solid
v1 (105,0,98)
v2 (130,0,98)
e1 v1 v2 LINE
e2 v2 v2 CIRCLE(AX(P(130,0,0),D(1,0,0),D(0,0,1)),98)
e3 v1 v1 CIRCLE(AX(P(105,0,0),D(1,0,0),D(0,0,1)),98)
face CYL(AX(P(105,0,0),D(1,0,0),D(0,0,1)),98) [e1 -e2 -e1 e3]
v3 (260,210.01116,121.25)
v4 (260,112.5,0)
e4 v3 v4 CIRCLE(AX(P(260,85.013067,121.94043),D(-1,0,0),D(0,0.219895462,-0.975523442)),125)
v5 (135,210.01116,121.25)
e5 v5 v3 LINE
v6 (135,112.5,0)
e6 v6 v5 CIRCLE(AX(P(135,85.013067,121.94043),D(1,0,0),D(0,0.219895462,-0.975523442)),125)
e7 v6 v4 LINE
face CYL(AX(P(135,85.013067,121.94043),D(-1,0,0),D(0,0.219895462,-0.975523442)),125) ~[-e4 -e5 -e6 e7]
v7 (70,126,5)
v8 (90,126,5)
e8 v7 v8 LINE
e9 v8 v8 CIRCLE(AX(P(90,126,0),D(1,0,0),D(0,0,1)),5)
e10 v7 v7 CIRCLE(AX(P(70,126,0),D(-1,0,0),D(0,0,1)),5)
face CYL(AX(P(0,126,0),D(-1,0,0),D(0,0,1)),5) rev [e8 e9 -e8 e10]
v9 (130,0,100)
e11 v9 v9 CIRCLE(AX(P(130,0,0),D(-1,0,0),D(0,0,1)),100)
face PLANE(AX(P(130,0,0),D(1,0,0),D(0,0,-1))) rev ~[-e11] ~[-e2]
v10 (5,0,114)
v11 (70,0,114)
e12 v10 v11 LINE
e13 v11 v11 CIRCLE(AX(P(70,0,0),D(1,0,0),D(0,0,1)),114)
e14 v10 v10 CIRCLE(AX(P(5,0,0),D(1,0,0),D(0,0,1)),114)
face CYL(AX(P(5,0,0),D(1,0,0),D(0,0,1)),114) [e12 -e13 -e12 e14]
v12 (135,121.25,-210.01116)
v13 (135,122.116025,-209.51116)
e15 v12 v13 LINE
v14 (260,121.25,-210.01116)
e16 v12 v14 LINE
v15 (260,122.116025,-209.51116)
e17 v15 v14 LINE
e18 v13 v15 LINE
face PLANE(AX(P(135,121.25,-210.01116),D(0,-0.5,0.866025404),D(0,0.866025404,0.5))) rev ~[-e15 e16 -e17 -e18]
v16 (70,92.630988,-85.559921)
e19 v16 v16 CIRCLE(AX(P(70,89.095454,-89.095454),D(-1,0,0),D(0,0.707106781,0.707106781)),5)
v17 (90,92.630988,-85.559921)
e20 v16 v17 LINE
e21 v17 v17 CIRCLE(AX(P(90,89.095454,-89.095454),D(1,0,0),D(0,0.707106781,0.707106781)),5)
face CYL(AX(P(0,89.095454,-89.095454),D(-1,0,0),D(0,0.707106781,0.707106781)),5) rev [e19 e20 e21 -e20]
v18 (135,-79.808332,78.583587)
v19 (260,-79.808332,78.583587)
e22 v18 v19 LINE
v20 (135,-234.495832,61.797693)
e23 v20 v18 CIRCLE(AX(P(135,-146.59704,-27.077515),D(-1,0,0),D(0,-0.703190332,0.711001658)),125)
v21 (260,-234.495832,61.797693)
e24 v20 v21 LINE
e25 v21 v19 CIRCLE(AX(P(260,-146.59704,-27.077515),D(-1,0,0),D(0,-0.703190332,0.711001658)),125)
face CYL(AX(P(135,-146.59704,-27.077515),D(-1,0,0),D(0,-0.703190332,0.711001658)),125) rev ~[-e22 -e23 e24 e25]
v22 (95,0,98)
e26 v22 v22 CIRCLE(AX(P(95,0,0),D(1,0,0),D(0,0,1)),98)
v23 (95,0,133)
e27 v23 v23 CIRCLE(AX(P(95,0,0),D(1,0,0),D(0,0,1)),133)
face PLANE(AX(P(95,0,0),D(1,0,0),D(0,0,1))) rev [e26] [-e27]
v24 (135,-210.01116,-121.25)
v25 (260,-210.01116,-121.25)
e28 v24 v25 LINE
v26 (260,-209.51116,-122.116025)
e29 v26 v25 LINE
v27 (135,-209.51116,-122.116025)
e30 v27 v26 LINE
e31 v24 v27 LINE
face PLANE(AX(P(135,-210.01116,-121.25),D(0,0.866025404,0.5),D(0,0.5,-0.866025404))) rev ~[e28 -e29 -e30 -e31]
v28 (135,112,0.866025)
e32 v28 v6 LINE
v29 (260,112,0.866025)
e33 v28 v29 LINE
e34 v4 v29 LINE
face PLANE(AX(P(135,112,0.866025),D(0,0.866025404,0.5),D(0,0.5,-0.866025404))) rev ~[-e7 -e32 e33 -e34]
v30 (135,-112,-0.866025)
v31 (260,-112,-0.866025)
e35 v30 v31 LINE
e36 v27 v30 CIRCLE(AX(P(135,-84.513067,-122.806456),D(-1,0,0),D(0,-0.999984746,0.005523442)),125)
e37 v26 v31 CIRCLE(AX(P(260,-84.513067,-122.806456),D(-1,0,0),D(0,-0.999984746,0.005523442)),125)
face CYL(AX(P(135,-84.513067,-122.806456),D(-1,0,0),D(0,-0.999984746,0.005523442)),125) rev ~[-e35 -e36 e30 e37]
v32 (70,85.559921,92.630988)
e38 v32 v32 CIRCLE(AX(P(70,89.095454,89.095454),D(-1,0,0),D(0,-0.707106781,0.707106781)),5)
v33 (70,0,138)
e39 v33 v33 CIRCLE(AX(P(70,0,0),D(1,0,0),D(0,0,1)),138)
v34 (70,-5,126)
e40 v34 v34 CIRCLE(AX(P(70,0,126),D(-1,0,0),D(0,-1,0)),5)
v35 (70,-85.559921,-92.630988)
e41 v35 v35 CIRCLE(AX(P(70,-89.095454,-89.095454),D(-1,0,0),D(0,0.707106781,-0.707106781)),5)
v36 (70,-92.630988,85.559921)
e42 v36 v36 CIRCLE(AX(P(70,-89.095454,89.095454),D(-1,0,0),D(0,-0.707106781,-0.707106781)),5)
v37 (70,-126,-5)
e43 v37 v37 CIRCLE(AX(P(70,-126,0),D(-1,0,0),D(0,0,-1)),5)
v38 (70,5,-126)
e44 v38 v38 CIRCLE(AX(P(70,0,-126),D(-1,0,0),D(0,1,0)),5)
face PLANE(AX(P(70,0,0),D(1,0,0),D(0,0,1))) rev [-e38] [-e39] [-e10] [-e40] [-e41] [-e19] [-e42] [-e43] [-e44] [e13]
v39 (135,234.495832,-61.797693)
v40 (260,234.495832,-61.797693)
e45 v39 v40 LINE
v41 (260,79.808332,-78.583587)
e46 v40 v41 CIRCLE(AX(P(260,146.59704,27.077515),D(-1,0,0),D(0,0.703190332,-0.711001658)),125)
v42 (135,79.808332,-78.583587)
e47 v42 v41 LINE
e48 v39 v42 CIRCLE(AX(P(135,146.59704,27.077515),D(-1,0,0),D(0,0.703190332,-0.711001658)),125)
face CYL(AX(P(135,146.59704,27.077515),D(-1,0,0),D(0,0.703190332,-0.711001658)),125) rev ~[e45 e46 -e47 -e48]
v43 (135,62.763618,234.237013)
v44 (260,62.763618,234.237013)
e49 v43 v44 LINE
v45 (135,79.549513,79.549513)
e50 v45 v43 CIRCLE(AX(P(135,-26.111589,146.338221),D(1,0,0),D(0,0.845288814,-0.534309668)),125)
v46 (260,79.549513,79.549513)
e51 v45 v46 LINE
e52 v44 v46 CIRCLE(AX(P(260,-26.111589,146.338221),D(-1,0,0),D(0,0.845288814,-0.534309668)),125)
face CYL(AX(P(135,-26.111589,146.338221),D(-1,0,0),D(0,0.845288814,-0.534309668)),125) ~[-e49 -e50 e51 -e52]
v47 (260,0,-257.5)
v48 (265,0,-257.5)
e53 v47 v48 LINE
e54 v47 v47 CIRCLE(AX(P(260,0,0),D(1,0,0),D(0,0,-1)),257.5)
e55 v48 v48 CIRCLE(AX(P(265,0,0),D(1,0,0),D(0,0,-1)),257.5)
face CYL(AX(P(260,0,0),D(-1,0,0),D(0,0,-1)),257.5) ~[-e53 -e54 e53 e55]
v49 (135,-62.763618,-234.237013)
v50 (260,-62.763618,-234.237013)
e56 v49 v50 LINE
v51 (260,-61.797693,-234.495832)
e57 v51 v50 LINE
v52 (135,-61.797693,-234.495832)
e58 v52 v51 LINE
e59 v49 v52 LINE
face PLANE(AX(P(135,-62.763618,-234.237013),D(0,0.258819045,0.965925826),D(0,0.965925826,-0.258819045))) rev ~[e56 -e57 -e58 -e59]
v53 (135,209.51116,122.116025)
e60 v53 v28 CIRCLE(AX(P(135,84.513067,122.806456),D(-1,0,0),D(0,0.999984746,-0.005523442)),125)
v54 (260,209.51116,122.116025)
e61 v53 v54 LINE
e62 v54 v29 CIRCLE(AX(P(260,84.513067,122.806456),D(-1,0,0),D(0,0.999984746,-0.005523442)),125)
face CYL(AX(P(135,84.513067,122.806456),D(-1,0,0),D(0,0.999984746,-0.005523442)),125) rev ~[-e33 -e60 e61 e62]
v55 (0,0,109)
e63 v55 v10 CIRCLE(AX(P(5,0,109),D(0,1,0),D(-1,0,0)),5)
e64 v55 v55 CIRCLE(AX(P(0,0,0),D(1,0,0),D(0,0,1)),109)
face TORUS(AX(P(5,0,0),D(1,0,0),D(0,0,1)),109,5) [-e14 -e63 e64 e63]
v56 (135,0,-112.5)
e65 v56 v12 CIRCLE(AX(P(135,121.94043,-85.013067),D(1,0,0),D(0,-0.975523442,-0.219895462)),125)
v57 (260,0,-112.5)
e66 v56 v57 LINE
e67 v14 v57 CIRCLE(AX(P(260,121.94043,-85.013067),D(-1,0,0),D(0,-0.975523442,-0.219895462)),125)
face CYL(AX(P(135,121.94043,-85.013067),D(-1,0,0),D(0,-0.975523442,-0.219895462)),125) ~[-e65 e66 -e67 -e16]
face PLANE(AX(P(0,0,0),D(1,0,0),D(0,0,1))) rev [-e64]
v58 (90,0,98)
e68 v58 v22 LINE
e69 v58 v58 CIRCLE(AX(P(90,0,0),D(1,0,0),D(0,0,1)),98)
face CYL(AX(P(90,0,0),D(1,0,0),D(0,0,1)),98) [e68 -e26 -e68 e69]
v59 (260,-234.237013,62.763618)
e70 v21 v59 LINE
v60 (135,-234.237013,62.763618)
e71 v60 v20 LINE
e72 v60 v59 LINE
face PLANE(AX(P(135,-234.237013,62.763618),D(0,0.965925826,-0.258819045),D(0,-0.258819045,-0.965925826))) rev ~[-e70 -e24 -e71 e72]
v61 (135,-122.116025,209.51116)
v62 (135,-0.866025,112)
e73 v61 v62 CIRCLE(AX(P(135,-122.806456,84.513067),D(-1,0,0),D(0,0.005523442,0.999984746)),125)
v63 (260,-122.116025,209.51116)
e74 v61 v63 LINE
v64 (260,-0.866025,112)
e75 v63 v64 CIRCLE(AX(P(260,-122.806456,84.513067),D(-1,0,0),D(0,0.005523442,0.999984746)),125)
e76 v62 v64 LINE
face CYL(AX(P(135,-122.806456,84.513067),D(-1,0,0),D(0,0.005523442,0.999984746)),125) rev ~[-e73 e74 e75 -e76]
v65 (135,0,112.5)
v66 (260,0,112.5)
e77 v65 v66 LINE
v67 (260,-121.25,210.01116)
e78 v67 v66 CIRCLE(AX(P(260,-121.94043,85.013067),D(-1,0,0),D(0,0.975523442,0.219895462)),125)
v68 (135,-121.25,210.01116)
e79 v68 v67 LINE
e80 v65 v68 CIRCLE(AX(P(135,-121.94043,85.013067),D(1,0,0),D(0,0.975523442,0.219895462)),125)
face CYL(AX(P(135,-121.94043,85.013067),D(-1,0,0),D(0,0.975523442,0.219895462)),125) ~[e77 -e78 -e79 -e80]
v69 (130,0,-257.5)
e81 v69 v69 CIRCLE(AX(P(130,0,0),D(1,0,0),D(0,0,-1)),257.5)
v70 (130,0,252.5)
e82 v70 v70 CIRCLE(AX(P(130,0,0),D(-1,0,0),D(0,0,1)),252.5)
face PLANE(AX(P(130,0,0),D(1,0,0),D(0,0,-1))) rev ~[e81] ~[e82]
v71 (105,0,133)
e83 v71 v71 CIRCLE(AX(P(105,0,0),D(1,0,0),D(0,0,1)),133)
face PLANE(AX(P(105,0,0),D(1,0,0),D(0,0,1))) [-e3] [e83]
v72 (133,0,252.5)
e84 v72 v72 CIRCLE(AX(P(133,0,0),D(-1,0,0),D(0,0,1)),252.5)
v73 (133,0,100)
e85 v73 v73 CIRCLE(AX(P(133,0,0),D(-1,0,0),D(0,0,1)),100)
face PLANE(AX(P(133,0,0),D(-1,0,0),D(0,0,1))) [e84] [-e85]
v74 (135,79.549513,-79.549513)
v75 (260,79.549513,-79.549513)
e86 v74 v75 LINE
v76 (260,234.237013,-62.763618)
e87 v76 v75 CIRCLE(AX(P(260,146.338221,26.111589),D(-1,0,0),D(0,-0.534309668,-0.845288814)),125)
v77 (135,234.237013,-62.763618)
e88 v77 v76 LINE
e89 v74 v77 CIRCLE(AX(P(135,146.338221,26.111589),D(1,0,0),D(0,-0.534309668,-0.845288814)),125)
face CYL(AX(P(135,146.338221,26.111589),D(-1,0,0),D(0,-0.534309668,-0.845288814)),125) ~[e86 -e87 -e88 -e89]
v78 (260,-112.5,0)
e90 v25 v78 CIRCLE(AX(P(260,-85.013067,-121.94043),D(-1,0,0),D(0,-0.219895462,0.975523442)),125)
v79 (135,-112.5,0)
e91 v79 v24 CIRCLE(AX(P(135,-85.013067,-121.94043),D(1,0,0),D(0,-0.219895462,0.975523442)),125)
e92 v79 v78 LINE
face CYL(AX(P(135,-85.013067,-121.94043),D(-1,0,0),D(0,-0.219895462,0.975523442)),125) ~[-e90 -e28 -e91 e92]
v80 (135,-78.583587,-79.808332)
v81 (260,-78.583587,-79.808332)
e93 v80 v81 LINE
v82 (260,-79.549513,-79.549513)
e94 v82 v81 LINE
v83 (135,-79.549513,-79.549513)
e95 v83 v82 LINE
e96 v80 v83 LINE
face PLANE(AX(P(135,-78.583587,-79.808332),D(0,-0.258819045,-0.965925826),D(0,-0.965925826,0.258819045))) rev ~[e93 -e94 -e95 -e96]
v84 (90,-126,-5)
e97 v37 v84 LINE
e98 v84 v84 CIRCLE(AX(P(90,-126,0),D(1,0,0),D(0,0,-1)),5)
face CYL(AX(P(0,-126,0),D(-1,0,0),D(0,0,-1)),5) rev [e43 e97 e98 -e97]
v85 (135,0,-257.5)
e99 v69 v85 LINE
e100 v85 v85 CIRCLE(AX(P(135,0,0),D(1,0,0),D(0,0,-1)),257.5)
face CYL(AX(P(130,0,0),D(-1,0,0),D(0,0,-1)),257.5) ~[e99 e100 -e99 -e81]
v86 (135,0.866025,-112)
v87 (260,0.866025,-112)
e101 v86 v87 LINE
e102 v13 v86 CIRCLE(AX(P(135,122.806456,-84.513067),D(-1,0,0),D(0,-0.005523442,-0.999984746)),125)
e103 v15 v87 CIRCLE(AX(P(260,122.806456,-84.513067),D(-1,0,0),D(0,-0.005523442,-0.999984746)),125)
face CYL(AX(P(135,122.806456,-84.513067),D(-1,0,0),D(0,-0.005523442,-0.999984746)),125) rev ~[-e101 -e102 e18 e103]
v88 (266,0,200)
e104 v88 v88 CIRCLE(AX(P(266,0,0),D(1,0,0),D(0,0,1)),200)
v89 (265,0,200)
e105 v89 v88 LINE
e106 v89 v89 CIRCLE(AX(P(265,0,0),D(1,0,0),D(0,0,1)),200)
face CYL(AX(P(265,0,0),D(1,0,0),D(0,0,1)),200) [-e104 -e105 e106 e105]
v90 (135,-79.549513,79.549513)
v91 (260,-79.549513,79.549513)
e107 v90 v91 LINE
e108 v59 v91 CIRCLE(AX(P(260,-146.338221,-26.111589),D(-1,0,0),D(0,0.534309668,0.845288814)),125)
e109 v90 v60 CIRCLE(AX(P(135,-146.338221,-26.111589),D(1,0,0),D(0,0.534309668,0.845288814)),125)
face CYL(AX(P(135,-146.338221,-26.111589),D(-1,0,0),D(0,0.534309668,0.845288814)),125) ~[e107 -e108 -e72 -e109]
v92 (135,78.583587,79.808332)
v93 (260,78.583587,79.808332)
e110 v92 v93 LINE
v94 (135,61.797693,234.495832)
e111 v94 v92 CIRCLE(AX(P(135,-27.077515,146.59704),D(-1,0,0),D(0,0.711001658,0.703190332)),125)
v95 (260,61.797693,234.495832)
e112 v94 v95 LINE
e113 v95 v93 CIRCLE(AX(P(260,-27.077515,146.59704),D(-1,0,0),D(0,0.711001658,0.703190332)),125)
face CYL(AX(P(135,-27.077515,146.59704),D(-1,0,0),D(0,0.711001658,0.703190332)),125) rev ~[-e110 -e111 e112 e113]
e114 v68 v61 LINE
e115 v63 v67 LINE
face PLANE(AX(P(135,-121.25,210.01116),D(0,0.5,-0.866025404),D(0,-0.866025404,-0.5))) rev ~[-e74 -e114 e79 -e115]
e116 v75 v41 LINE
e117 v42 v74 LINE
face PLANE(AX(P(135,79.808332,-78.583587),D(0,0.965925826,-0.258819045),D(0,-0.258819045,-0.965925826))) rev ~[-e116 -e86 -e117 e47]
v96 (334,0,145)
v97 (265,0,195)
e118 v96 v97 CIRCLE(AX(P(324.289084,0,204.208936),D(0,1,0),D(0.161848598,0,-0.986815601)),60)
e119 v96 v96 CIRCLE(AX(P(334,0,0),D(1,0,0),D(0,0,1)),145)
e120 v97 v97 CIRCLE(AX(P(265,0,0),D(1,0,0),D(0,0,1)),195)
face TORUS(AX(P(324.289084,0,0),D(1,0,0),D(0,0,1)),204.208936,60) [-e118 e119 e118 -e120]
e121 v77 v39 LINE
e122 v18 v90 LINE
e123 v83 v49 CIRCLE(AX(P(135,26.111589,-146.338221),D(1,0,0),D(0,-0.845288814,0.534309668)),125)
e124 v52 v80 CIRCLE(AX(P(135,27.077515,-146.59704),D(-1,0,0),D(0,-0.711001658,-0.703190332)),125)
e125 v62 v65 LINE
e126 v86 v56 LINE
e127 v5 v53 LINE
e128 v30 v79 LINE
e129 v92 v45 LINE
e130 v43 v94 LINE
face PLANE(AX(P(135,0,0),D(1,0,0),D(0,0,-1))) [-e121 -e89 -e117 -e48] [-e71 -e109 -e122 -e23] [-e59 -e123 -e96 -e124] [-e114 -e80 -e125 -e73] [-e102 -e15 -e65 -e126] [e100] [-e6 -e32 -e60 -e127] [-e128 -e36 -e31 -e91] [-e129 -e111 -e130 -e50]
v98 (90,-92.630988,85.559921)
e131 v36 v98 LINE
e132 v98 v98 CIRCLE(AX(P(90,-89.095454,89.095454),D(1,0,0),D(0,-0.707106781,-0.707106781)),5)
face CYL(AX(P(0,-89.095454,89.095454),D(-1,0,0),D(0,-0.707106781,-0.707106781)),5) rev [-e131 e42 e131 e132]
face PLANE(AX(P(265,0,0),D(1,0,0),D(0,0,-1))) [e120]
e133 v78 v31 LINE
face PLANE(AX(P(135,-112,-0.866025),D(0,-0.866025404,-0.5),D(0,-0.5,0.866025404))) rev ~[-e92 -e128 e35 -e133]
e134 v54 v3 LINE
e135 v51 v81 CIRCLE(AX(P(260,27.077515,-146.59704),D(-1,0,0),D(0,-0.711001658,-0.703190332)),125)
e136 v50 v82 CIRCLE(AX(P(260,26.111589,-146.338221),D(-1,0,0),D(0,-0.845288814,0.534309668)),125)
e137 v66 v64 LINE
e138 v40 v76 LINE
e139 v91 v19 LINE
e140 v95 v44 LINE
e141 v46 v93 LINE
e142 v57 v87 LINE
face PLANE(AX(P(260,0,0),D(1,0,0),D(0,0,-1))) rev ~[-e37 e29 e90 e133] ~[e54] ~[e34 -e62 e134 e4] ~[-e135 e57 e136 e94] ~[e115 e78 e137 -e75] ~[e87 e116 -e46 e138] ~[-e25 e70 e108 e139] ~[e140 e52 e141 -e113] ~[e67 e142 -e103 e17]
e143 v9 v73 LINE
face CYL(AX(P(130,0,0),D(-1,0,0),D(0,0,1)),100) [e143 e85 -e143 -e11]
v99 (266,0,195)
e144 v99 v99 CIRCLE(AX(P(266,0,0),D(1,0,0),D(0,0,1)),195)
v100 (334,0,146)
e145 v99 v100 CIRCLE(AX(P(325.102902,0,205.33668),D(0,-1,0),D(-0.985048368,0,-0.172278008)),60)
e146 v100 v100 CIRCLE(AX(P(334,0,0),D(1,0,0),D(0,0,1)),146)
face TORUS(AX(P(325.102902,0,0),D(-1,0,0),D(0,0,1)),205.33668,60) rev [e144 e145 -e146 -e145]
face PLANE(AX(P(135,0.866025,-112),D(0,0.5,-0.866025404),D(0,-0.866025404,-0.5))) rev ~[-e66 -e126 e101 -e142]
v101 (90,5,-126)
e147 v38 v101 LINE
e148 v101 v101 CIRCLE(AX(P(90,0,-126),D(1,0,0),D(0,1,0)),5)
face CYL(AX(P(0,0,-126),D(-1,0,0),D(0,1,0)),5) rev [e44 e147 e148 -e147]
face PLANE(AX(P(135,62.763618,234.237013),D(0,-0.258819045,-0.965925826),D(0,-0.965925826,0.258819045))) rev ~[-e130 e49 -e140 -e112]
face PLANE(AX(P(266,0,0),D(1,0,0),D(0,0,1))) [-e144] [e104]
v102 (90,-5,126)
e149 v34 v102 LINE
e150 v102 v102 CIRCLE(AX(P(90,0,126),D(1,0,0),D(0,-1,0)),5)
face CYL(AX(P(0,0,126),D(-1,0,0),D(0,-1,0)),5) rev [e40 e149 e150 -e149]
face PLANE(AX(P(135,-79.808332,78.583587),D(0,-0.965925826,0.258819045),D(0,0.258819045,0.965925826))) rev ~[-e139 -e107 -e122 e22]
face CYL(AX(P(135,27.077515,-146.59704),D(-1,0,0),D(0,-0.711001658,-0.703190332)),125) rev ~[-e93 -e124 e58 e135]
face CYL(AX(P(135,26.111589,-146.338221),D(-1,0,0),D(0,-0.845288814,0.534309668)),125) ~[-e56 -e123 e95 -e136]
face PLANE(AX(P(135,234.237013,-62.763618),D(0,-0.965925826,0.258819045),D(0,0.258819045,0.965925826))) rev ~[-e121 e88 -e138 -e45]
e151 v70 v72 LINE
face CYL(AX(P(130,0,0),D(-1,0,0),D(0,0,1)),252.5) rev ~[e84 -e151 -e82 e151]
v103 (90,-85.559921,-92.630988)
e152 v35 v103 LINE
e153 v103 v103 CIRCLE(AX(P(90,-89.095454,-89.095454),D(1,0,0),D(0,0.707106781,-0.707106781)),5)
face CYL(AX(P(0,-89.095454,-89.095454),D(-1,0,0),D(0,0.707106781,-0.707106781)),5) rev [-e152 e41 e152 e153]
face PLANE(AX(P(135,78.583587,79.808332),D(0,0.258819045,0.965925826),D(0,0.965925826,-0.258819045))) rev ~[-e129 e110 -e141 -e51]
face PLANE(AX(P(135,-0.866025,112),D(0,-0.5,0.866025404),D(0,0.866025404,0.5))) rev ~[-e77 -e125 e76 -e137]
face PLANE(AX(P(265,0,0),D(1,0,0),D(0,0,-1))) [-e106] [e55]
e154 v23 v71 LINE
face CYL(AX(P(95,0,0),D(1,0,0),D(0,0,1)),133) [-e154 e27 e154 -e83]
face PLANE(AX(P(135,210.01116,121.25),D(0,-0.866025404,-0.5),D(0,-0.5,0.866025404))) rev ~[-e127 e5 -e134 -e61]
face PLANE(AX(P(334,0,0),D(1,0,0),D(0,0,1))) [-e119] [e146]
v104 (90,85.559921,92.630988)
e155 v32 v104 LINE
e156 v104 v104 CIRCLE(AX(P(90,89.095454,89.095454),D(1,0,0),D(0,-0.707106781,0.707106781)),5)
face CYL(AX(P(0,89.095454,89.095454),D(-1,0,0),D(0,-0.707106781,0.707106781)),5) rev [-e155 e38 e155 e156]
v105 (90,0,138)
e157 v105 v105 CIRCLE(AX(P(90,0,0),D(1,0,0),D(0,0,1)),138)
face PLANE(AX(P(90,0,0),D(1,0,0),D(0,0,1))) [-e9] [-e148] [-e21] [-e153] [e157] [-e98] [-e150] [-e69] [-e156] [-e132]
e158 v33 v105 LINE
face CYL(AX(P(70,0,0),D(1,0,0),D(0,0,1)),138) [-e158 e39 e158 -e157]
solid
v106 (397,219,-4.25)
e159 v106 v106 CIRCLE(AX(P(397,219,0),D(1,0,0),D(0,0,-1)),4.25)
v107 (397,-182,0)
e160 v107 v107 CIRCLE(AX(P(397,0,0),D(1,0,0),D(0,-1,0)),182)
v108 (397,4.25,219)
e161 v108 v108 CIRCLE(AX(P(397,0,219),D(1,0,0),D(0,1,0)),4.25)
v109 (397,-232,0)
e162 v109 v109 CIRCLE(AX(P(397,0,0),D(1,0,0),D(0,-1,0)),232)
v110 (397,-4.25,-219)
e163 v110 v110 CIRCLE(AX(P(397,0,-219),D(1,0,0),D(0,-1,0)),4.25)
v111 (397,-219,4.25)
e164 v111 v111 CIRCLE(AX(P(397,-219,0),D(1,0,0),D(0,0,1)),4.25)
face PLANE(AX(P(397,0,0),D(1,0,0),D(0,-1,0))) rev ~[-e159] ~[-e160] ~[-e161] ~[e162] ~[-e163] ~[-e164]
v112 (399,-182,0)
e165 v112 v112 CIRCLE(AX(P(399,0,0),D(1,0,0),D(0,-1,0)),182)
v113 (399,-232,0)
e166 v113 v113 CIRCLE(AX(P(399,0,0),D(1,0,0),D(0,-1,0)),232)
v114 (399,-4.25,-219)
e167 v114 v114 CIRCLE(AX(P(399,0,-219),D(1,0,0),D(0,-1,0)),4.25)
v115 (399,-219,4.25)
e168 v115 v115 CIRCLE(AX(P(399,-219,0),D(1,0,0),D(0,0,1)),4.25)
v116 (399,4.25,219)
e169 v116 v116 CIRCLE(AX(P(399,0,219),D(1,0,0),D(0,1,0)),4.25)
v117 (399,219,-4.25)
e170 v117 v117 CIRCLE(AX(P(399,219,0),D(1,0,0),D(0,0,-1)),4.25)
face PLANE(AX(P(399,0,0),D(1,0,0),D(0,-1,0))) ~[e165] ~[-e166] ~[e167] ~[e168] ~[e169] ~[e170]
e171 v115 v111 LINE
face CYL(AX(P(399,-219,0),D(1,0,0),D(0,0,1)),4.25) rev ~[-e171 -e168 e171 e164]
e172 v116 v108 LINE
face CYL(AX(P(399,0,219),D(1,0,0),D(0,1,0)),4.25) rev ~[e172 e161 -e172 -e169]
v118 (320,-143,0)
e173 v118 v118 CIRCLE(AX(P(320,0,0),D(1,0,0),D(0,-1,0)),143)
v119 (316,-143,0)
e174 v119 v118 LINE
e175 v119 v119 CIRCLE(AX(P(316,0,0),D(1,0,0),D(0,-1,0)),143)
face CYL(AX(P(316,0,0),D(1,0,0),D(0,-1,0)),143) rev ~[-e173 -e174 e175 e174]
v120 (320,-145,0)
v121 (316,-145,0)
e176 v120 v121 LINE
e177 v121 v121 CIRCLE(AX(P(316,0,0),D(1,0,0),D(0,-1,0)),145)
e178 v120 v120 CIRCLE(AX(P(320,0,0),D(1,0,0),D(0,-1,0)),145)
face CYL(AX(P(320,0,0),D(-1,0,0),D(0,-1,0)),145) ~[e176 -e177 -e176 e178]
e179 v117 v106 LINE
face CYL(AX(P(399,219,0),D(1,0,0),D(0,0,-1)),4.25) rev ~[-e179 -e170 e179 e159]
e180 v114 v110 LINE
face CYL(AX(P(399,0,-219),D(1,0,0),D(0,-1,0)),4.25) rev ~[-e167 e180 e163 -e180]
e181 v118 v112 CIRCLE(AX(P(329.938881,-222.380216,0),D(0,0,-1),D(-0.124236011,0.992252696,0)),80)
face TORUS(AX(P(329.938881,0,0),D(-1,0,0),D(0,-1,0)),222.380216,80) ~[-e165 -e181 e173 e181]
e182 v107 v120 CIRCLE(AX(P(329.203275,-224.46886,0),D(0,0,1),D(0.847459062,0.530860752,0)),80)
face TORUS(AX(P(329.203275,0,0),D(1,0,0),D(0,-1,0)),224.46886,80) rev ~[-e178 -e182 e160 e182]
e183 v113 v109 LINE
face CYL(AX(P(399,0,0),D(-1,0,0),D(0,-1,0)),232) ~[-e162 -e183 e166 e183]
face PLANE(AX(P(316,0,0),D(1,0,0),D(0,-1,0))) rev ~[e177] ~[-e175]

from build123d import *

# Parameters (mm, degrees)
SKETCH2_R         = 257.5
EXTRUDE1_DEPTH    = 5
SKETCH9_R         = 252.5
SKETCH9_R_2       = 100
EXTRUDE7_DEPTH    = 3
SKETCH3_R         = 257.5
EXTRUDE2_DEPTH    = 5
EXTRUDE3_DEPTH    = 130
CIRPATTERN1_COUNT = 8
SKETCH7_R         = 4.25
EXTRUDE5_DEPTH    = 5
CIRPATTERN2_COUNT = 4
SKETCH8_R         = 5
EXTRUDE6_DEPTH    = 90
CIRPATTERN3_COUNT = 8


with BuildPart() as part:
    # Sketch1 → Revolve1 (revolve)
    with BuildSketch(Plane.XY, mode=Mode.PRIVATE) as revolve1_sk:
        with BuildLine():
            Line((0, 0), (0, 109))
            ThreePointArc((0, 109), (1.464466094, 112.535533906), (5, 114))
            Line((5, 114), (70, 114))
            Line((70, 114), (70, 138))
            Line((70, 138), (90, 138))
            Line((90, 138), (90, 98))
            Line((90, 98), (95, 98))
            Line((95, 98), (95, 133))
            Line((95, 133), (105, 133))
            Line((105, 133), (105, 98))
            Line((105, 98), (130, 98))
            Line((130, 98), (130, 0))
            Line((130, 0), (0, 0))
        make_face()
    revolve(revolve1_sk.sketch.rotate(Axis((0, 0, 0), (1, 0, 0)), 90), axis=Axis((0, 0, 0), (1, 0, 0)))

    # Sketch2 → Extrude1 (add)
    with BuildSketch(Plane(origin=(130, 0, 0), x_dir=(0, 0, -1), z_dir=(1, 0, 0))):
        Circle(SKETCH2_R)
    extrude(amount=EXTRUDE1_DEPTH)

    # Sketch9 → Extrude7 (cut)
    with BuildSketch(Plane.ZY.offset(-130)):
        Circle(SKETCH9_R)
        Circle(SKETCH9_R_2, mode=Mode.SUBTRACT)
    extrude(amount=-EXTRUDE7_DEPTH, mode=Mode.SUBTRACT)



with BuildPart() as body_2:
    # Sketch3 → Extrude2 (new body)
    with BuildSketch(Plane(origin=(260, 0, 0), x_dir=(0, 0, -1), z_dir=(1, 0, 0))):
        Circle(SKETCH3_R)
    extrude(amount=EXTRUDE2_DEPTH)


with BuildPart() as part_1:
    add(part.part)

    add(body_2.part)  # Extrude3 merges body 2
    # Sketch4 → Extrude3 (add)
    with BuildSketch(Plane(origin=(135, 0, 0), x_dir=(0, 0, -1), z_dir=(1, 0, 0))):
        with BuildLine():
            Line((-121.25, 210.011160418), (-122.116025404, 209.511160418))
            ThreePointArc((-122.116025404, 209.511160418), (-44.469436379, 181.921031018), (-0.866025404, 112))
            Line((-0.866025404, 112), (0, 112.5))
            ThreePointArc((0, 112.5), (-43.603410976, 182.421031018), (-121.25, 210.011160418))
        make_face()
    extrude3 = extrude(amount=EXTRUDE3_DEPTH)

    # CirPattern1: Extrude3 ×8 about axis
    cirpattern1_axis = Axis((0, 0, 0), (1, 0, 0))
    for i in range(1, CIRPATTERN1_COUNT):
        add(extrude3.rotate(cirpattern1_axis, i * 360 / CIRPATTERN1_COUNT))

    # Sketch5 → Revolve2 (revolve)
    with BuildSketch(Plane.XY, mode=Mode.PRIVATE) as revolve2_sk:
        with BuildLine():
            Line((265, 200), (266, 200))
            Line((266, 200), (266, 195))
            ThreePointArc((266, 195), (290.025762909, 156.658201589), (334, 146))
            Line((334, 146), (334, 145))
            ThreePointArc((334, 145), (289.082569219, 155.623945523), (265, 195))
            Line((265, 195), (265, 200))
        make_face()
    revolve(revolve2_sk.sketch.rotate(Axis((0, 0, 0), (1, 0, 0)), 90), axis=Axis((0, 0, 0), (1, 0, 0)))

    # Sketch8 → Extrude6 (cut)
    with BuildSketch(Plane(origin=(0, 0, 0), x_dir=(0, 0, -1), z_dir=(1, 0, 0))):
        with Locations(Location((0, 126, 0), (0, 0, 180))):
            Circle(SKETCH8_R)
    extrude6 = extrude(amount=EXTRUDE6_DEPTH, mode=Mode.SUBTRACT)

    # CirPattern3: Extrude6 ×8 about axis
    cirpattern3_axis = Axis((0, 0, 0), (1, 0, 0))
    for i in range(1, CIRPATTERN3_COUNT):
        add(extrude6.rotate(cirpattern3_axis, i * 360 / CIRPATTERN3_COUNT), mode=Mode.SUBTRACT)


with BuildPart() as body_2_2:
    # Sketch6 → Revolve3 (revolve)
    with BuildSketch(Plane.XY, mode=Mode.PRIVATE) as revolve3_sk:
        with BuildLine():
            Line((399, 232), (397, 232))
            Line((397, 232), (397, 182))
            ThreePointArc((397, 182), (363.85220133, 152.361635071), (320, 145))
            Line((320, 145), (316, 145))
            Line((316, 145), (316, 143))
            Line((316, 143), (320, 143))
            ThreePointArc((320, 143), (365.352293074, 150.645355054), (399, 182))
            Line((399, 182), (399, 232))
        make_face()
    revolve(revolve3_sk.sketch.rotate(Axis((0, 0, 0), (1, 0, 0)), 180), axis=Axis((0, 0, 0), (1, 0, 0)))

    # Sketch7 → Extrude5 (cut)
    with BuildSketch(Plane(origin=(399, 0, 0), x_dir=(0, 0, -1), z_dir=(1, 0, 0))):
        with Locations((0, 219)):
            Circle(SKETCH7_R)
    extrude5 = extrude(amount=-EXTRUDE5_DEPTH, mode=Mode.SUBTRACT)

    # CirPattern2: Extrude5 ×4 about axis
    cirpattern2_axis = Axis((0, 0, 0), (1, 0, 0))
    for i in range(1, CIRPATTERN2_COUNT):
        add(extrude5.rotate(cirpattern2_axis, i * 360 / CIRPATTERN2_COUNT), mode=Mode.SUBTRACT)


solid = Compound([part_1.part, body_2_2.part])
